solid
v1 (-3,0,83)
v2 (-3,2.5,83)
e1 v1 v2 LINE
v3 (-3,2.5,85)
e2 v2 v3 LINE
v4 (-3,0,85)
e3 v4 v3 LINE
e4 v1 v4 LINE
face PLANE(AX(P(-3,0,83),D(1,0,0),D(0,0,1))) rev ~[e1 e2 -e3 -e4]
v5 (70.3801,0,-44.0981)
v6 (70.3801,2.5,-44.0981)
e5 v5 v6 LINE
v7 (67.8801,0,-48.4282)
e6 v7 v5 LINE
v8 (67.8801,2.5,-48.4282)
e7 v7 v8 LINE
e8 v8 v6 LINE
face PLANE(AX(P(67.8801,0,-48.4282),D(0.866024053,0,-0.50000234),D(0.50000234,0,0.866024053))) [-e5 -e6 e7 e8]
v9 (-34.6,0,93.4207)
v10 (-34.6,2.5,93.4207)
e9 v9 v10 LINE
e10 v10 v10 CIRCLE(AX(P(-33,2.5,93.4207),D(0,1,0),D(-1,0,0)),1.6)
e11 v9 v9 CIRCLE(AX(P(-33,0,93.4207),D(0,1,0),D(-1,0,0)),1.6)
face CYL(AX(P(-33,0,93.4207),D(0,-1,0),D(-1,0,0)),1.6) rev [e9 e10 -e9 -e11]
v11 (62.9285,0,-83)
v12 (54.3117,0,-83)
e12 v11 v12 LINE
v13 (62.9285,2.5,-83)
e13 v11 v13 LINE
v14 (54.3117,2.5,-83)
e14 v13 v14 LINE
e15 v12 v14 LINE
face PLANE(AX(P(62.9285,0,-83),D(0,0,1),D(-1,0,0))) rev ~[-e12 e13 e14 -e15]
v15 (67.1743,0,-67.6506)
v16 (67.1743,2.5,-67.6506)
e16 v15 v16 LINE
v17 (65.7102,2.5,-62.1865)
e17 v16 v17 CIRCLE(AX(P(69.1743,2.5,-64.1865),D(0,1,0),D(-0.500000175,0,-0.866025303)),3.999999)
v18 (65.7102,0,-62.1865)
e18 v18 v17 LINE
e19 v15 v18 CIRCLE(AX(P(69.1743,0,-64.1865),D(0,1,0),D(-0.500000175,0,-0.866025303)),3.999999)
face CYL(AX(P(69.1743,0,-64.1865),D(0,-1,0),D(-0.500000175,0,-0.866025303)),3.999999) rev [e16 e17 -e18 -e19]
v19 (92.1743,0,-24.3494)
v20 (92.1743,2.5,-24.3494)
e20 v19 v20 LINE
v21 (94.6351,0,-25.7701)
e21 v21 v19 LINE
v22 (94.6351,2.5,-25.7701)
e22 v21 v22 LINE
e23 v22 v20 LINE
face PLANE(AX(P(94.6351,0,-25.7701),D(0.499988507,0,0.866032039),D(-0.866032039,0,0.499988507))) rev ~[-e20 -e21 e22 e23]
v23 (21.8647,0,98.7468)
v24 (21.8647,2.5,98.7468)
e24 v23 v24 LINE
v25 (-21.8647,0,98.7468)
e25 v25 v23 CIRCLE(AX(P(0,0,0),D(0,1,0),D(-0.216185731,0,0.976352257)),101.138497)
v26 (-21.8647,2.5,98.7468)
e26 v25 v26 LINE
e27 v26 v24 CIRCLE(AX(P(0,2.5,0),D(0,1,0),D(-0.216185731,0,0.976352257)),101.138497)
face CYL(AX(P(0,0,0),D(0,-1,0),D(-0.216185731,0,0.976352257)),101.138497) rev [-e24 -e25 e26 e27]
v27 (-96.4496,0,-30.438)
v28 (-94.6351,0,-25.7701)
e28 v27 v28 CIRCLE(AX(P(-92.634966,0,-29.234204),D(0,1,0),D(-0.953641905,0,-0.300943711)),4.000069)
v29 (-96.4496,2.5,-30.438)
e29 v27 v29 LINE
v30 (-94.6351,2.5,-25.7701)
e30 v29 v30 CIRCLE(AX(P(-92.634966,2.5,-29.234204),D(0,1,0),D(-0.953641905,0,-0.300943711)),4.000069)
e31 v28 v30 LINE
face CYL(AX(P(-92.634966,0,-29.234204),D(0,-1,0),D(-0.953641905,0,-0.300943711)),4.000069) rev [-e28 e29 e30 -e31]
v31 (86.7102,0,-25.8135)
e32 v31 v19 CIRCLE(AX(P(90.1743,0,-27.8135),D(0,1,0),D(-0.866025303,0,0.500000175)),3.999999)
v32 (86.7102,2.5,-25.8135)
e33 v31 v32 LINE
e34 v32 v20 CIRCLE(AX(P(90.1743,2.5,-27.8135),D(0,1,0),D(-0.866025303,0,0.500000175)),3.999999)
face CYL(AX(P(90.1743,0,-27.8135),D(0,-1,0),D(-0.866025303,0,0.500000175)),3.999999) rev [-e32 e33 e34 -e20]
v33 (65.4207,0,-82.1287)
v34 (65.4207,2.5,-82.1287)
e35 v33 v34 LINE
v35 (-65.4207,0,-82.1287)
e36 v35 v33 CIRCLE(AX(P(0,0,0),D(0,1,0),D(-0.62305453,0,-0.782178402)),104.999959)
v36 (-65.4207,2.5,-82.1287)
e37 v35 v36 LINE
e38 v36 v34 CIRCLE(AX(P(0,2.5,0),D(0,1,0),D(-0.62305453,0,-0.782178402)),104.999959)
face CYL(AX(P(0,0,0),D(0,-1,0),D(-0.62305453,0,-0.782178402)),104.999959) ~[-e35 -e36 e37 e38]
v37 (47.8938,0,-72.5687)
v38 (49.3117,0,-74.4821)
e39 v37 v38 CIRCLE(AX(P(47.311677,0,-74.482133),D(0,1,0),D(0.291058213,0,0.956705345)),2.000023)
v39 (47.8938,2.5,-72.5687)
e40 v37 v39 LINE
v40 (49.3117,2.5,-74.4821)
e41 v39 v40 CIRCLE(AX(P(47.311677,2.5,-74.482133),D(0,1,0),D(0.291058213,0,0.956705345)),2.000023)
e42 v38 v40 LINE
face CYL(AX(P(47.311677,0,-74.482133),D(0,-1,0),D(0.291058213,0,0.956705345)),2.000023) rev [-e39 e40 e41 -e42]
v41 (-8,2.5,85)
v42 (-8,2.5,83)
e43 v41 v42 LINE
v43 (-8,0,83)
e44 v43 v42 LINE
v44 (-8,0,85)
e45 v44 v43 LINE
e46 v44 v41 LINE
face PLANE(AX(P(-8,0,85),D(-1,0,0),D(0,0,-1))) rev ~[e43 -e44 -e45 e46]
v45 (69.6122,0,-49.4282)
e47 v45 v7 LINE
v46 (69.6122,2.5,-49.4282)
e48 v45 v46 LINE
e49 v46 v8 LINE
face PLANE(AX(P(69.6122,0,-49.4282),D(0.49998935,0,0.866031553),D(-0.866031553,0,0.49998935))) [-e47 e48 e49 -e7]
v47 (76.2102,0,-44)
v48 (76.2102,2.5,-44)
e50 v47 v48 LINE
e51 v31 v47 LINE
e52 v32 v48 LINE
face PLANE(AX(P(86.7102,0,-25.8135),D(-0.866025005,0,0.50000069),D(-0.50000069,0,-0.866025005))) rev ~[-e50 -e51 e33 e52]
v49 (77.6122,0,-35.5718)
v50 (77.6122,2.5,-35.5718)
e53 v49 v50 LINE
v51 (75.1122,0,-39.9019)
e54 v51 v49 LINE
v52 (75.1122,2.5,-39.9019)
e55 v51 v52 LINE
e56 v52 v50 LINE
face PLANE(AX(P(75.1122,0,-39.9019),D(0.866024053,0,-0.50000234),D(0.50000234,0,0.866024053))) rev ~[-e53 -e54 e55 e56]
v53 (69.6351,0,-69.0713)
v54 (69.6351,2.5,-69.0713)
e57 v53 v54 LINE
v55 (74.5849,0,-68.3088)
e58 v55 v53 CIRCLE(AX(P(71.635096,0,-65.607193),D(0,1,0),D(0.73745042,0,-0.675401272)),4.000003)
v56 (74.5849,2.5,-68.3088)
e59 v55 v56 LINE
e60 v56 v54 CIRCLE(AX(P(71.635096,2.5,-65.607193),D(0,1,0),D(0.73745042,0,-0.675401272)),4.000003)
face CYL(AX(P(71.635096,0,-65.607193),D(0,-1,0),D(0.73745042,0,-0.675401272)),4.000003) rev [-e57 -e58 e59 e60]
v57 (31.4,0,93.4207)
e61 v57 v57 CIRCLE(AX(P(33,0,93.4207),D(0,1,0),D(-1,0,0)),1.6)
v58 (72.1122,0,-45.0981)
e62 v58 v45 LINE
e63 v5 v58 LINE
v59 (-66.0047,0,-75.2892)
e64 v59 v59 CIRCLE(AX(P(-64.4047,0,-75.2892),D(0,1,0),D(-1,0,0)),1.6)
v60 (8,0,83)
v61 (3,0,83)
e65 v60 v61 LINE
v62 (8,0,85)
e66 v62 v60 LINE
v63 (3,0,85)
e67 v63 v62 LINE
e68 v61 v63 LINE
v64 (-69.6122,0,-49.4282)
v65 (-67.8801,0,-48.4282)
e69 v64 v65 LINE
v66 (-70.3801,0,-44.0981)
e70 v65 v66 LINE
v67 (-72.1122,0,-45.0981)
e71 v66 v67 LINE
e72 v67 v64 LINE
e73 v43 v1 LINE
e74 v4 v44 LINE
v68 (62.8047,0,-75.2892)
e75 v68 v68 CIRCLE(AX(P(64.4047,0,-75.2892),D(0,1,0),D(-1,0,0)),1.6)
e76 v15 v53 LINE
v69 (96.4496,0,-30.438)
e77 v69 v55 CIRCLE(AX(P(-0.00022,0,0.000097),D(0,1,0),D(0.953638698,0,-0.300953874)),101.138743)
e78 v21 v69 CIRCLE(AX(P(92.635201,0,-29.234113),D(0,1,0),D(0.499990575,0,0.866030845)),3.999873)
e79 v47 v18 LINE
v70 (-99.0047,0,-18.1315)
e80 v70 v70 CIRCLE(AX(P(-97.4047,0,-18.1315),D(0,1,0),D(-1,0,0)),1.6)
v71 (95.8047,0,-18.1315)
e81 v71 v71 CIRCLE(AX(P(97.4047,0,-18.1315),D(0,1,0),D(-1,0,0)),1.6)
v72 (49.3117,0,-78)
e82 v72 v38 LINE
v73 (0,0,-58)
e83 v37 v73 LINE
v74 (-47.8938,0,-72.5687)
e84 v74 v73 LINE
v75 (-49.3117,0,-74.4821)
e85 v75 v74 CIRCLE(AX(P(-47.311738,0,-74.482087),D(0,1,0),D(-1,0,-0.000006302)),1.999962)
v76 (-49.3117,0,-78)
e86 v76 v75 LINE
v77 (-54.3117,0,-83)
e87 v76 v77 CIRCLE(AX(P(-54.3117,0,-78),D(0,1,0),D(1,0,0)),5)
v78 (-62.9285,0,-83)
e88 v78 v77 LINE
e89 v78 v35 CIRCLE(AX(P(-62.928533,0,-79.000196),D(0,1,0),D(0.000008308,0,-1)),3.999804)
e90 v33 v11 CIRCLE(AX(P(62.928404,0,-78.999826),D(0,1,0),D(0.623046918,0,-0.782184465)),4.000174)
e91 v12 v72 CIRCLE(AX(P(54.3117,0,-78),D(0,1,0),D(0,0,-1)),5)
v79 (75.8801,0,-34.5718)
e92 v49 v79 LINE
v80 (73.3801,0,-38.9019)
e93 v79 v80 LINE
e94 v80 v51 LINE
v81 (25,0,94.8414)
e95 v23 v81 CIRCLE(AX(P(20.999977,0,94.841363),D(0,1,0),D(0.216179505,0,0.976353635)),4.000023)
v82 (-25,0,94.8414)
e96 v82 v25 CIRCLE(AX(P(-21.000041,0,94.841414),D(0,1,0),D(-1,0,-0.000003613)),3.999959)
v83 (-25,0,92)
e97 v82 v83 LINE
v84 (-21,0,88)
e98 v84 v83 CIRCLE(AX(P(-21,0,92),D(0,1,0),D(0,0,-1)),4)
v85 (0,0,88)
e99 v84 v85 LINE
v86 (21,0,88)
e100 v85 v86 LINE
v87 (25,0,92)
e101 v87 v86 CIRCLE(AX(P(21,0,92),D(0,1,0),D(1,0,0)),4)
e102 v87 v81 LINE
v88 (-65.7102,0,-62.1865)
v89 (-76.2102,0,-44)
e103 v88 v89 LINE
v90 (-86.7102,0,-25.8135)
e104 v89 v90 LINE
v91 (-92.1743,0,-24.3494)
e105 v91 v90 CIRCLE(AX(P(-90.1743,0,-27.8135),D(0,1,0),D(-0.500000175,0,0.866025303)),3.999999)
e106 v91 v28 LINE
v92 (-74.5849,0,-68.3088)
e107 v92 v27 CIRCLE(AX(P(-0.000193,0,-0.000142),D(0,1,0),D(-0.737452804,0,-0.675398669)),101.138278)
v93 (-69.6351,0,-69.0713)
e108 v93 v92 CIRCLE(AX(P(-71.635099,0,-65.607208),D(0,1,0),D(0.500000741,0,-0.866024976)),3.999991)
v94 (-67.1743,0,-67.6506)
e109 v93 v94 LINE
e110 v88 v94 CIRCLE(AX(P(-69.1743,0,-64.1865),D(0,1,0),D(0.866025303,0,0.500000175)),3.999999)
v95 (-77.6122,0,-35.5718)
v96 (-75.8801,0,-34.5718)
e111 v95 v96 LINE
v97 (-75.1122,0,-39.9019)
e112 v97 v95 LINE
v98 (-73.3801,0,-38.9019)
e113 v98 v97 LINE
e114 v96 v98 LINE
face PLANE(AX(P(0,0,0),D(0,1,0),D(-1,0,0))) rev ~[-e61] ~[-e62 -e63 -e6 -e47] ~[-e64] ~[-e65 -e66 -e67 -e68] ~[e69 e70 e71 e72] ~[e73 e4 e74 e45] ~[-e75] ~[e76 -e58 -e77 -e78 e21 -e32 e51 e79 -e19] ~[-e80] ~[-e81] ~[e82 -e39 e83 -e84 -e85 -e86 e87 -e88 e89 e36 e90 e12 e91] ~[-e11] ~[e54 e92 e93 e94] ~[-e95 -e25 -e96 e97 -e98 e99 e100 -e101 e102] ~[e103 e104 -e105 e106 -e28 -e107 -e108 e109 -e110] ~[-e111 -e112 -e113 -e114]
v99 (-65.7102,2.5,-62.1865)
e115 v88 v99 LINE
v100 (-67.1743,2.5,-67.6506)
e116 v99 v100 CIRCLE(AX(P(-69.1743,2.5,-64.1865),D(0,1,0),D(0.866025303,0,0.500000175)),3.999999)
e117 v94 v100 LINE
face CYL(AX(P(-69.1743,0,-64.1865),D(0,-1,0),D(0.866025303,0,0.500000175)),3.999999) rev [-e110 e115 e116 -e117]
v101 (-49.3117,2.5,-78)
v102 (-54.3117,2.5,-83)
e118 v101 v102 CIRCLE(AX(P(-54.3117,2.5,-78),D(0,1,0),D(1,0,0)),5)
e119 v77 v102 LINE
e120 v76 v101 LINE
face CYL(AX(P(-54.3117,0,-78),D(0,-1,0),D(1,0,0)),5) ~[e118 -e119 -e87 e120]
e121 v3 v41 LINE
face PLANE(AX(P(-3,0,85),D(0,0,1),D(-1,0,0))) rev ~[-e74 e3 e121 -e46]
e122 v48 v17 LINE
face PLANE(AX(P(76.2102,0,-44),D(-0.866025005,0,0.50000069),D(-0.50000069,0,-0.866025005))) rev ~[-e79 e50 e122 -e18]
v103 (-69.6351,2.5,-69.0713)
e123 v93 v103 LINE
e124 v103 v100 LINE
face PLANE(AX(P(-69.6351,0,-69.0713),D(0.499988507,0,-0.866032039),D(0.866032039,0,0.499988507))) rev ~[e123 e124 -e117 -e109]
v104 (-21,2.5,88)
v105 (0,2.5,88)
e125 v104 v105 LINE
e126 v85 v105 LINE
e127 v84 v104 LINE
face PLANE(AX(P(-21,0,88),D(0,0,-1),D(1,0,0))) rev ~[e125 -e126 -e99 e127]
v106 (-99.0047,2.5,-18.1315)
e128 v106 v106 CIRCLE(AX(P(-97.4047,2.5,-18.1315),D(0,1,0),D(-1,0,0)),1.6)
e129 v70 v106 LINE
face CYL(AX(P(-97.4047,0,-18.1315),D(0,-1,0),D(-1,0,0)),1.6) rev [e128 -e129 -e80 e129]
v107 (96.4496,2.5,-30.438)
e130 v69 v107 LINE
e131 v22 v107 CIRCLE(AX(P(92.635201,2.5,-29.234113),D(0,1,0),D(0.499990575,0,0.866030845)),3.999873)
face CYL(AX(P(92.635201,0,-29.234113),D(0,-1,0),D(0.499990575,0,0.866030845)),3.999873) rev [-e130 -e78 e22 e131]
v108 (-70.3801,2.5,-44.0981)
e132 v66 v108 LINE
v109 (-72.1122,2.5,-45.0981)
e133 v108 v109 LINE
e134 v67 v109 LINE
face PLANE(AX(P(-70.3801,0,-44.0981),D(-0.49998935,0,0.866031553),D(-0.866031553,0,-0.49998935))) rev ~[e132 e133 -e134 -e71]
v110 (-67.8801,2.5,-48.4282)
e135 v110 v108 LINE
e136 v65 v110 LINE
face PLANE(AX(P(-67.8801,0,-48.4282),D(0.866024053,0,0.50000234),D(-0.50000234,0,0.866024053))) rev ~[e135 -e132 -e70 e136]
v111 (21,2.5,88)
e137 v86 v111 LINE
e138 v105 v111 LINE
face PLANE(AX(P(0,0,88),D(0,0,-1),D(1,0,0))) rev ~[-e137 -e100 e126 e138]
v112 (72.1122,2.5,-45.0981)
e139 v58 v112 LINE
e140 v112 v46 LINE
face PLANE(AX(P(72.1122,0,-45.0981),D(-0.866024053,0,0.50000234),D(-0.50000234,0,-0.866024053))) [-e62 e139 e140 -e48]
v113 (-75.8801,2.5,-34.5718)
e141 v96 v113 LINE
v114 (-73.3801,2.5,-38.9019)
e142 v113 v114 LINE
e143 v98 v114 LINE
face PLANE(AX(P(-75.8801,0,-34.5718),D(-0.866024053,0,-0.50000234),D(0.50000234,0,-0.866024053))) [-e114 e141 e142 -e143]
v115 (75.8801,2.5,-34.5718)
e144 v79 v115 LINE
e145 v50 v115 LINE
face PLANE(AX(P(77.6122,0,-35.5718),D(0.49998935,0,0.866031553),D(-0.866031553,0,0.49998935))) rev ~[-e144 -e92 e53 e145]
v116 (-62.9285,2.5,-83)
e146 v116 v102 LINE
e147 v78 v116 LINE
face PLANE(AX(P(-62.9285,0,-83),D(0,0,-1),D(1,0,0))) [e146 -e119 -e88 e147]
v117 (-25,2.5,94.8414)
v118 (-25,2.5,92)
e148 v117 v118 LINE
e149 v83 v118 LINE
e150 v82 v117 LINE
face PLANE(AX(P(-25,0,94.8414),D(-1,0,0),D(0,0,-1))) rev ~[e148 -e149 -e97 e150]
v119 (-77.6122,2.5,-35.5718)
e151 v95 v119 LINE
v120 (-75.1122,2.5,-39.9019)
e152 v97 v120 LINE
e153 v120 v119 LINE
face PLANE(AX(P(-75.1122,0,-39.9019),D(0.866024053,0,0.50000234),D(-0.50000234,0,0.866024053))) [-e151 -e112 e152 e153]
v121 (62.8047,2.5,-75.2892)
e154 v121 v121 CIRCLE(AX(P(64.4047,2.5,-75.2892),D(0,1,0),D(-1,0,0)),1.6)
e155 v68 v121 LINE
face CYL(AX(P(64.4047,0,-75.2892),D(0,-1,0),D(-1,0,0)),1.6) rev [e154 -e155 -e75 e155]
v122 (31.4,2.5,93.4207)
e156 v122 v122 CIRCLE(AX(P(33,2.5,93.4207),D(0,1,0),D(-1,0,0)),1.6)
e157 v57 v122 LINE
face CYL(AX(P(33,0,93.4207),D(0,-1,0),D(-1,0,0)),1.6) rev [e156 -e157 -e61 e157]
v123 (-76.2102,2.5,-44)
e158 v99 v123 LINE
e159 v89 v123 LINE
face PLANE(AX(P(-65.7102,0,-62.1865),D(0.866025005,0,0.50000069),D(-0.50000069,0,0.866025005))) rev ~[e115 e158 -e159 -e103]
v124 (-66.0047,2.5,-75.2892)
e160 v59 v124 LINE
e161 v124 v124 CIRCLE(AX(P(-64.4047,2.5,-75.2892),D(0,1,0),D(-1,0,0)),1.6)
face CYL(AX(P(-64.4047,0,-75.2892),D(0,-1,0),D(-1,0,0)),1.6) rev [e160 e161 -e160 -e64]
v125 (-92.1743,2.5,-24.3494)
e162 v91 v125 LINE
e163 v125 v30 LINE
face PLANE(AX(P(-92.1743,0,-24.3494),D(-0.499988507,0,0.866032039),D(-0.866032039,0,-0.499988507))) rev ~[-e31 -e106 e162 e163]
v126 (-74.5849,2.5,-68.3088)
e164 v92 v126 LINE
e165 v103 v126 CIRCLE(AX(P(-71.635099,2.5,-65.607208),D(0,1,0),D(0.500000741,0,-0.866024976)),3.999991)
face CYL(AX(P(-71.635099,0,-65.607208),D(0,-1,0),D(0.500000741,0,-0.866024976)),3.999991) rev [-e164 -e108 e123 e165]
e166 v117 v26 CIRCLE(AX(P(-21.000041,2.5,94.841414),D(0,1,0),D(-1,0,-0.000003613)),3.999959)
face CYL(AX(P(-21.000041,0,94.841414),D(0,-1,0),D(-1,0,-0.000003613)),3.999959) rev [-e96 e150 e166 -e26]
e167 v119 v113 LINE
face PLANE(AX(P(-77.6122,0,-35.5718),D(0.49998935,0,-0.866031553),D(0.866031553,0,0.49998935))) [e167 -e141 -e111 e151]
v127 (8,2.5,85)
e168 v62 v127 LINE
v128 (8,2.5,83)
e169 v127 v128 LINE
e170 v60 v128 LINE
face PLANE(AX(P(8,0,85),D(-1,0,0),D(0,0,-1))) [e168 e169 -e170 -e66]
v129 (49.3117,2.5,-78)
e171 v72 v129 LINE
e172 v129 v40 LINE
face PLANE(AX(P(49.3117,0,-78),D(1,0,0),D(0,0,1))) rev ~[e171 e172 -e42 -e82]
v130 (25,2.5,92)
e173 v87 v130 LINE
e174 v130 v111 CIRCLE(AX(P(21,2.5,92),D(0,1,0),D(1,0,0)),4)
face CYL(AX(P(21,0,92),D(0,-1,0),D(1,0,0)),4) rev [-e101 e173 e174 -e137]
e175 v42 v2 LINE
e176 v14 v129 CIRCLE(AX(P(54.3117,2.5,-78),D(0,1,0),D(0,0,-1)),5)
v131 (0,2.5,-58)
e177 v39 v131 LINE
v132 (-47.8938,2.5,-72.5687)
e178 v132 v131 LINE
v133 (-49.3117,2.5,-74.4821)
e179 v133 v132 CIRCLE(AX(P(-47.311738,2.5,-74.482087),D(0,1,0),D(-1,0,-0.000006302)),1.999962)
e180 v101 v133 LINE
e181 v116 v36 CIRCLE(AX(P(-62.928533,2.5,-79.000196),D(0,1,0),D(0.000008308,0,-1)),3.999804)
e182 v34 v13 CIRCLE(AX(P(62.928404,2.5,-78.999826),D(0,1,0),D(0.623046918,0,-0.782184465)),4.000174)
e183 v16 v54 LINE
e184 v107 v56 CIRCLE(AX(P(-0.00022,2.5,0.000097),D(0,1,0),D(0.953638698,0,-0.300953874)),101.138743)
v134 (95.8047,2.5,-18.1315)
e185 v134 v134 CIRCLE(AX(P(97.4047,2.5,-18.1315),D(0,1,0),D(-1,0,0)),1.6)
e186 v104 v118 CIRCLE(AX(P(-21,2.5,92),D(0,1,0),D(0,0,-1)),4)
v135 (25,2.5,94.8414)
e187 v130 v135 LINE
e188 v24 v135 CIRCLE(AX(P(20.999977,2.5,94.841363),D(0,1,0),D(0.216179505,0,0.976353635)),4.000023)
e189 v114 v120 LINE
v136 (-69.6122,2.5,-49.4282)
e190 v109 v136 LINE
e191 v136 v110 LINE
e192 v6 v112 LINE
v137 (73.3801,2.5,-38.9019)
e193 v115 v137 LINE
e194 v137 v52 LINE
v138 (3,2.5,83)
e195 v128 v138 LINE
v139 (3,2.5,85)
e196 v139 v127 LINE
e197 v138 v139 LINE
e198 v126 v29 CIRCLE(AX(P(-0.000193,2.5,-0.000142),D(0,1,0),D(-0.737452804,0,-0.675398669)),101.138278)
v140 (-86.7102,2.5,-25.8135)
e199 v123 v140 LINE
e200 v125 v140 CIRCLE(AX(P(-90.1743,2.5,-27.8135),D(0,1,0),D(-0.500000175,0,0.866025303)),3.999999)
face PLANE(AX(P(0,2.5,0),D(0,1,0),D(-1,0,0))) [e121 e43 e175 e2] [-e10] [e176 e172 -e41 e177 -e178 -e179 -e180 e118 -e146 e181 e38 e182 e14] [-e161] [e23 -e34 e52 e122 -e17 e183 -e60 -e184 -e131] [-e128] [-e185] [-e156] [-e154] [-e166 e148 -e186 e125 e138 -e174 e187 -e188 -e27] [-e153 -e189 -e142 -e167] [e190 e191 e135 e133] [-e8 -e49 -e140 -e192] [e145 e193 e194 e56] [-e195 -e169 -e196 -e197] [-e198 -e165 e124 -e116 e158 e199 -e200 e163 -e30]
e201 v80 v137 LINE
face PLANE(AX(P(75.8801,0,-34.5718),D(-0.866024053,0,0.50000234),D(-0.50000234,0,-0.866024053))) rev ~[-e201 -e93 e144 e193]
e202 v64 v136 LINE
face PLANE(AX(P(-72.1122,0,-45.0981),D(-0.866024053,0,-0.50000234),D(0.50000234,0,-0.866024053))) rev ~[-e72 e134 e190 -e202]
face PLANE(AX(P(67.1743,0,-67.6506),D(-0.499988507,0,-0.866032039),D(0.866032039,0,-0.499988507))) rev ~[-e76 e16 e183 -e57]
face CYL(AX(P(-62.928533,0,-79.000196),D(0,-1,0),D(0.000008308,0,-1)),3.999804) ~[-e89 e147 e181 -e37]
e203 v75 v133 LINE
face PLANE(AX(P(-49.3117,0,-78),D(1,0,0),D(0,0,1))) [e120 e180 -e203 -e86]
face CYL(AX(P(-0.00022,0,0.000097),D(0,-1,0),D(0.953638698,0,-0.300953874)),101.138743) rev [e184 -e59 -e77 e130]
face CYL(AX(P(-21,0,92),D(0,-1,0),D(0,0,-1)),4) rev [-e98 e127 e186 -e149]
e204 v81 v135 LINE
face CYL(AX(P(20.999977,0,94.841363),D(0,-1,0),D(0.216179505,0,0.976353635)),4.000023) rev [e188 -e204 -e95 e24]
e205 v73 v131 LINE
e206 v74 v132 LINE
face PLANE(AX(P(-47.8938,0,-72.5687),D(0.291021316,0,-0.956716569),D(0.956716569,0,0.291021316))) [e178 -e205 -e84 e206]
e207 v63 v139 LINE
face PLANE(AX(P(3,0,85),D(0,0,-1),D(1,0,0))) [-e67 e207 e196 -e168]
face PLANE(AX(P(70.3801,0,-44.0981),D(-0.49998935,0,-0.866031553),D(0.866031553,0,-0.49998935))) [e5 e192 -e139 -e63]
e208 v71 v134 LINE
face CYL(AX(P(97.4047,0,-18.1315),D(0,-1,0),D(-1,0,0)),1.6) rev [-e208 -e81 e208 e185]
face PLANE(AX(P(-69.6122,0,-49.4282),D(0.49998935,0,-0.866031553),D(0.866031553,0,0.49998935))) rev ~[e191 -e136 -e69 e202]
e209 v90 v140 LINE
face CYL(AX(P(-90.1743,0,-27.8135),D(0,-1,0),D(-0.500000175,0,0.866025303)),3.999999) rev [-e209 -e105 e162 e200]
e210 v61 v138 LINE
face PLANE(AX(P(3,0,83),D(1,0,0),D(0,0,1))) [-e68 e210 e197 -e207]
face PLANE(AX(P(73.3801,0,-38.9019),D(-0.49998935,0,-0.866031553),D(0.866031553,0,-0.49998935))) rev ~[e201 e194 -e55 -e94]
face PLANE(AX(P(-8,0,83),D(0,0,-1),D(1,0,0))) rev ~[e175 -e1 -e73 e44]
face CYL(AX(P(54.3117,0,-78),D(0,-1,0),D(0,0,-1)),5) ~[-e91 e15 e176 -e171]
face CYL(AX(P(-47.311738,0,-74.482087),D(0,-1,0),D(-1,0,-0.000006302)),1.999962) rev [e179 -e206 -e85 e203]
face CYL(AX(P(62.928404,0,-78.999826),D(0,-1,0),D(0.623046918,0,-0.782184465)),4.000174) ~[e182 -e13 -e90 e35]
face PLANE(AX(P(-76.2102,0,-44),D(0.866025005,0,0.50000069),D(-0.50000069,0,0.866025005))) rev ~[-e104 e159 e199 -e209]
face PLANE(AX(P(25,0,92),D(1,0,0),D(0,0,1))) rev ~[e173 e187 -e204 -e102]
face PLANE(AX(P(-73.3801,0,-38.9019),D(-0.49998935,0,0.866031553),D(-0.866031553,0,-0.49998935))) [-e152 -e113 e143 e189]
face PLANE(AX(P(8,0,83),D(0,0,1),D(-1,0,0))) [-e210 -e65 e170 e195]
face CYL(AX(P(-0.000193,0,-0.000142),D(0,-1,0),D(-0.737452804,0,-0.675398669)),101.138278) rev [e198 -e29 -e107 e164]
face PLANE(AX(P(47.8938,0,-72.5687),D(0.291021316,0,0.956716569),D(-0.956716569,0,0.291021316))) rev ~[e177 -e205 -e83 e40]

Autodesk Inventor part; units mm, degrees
ref_plane "YZ Plane" through (0, 0, 0) normal (1, 0, 0) x (0, 1, 0)
ref_plane "XZ Plane" through (0, 0, 0) normal (0, 1, 0) x (-1, 0, 0)
ref_plane "XY Plane" through (0, 0, 0) normal (0, 0, 1) x (1, 0, 0)
sketch "Sketch1" plane through (0, 0, 0) normal (0, 1, 0) x (-1, 0, 0)
  line L0 (-62.9285, -83) -> (-54.3117, -83)
  line L1 (62.9285, -83) -> (54.3117, -83)
  arc A0 (65.4207, -82.1287) -> (-65.4207, -82.1287) centre (0, 0) ccw
  line L2 (-49.3117, -78) -> (-49.3117, -74.4821)
  line L3 (-47.8938, -72.5687) -> (0, -58)
  line L4 (49.3117, -78) -> (49.3117, -74.4821)
  line L5 (47.8938, -72.5687) -> (0, -58)
  arc A1 (49.3117, -78) -> (54.3117, -83) centre (54.3117, -78) ccw
  arc A2 (-54.3117, -83) -> (-49.3117, -78) centre (-54.3117, -78) ccw
  arc A3 (49.3117, -74.4821) -> (47.8938, -72.5687) centre (47.3117, -74.4821) ccw
  arc A4 (-47.8938, -72.5687) -> (-49.3117, -74.4821) centre (-47.3117, -74.4821) ccw
  arc A5 (62.9285, -83) -> (65.4207, -82.1287) centre (62.9285, -79) ccw
  arc A6 (-65.4207, -82.1287) -> (-62.9285, -83) centre (-62.9285, -79) ccw
  line L6 (-76.2102, -44) -> (-65.7102, -62.1865)
  line L7 (-67.1743, -67.6506) -> (-69.6351, -69.0713)
  line L8 (-94.6351, -25.7701) -> (-92.1743, -24.3494)
  line L9 (-86.7102, -25.8135) -> (-76.2102, -44)
  arc A7 (-96.4496, -30.438) -> (-74.5849, -68.3088) centre (0, 0) ccw
  arc A8 (-94.6351, -25.7701) -> (-96.4496, -30.438) centre (-92.6351, -29.2342) ccw
  arc A9 (-86.7102, -25.8135) -> (-92.1743, -24.3494) centre (-90.1743, -27.8135) ccw
  arc A10 (-67.1743, -67.6506) -> (-65.7102, -62.1865) centre (-69.1743, -64.1865) ccw
  arc A11 (-74.5849, -68.3088) -> (-69.6351, -69.0713) centre (-71.6351, -65.6072) ccw
  line L10 (76.2102, -44) -> (86.7102, -25.8135)
  line L11 (92.1743, -24.3494) -> (94.6351, -25.7701)
  line L12 (69.6351, -69.0713) -> (67.1743, -67.6506)
  line L13 (65.7102, -62.1865) -> (76.2102, -44)
  arc A12 (74.5849, -68.3088) -> (96.4496, -30.438) centre (0, 0) ccw
  arc A13 (69.6351, -69.0713) -> (74.5849, -68.3088) centre (71.6351, -65.6072) ccw
  arc A14 (65.7102, -62.1865) -> (67.1743, -67.6506) centre (69.1743, -64.1865) ccw
  arc A15 (92.1743, -24.3494) -> (86.7102, -25.8135) centre (90.1743, -27.8135) ccw
  arc A16 (96.4496, -30.438) -> (94.6351, -25.7701) centre (92.6351, -29.2342) ccw
  line L14 (0, 88) -> (-21, 88)
  line L15 (-25, 92) -> (-25, 94.8414)
  line L16 (25, 94.8414) -> (25, 92)
  line L17 (21, 88) -> (0, 88)
  arc A17 (21.8647, 98.7468) -> (-21.8647, 98.7468) centre (0, 0) ccw
  arc A18 (25, 94.8414) -> (21.8647, 98.7468) centre (21, 94.8414) ccw
  arc A19 (21, 88) -> (25, 92) centre (21, 92) ccw
  arc A20 (-25, 92) -> (-21, 88) centre (-21, 92) ccw
  arc A21 (-21.8647, 98.7468) -> (-25, 94.8414) centre (-21, 94.8414) ccw
  circle A22 centre (-33, 93.4207) radius 1.6
  circle A23 centre (33, 93.4207) radius 1.6
  line L18 (-75.1122, -39.9019) -> (-77.6122, -35.5718)
  line L19 (-77.6122, -35.5718) -> (-75.8801, -34.5718)
  line L20 (-75.8801, -34.5718) -> (-73.3801, -38.9019)
  line L21 (-73.3801, -38.9019) -> (-75.1122, -39.9019)
  line L22 (-72.1122, -45.0981) -> (-69.6122, -49.4282)
  line L23 (-69.6122, -49.4282) -> (-67.8801, -48.4282)
  line L24 (-67.8801, -48.4282) -> (-70.3801, -44.0981)
  line L25 (-70.3801, -44.0981) -> (-72.1122, -45.0981)
  line L26 (72.1122, -45.0981) -> (69.6122, -49.4282)
  line L27 (69.6122, -49.4282) -> (67.8801, -48.4282)
  line L28 (67.8801, -48.4282) -> (70.3801, -44.0981)
  line L29 (70.3801, -44.0981) -> (72.1122, -45.0981)
  line L30 (73.3801, -38.9019) -> (75.1122, -39.9019)
  line L31 (75.8801, -34.5718) -> (73.3801, -38.9019)
  line L32 (77.6122, -35.5718) -> (75.8801, -34.5718)
  line L33 (75.1122, -39.9019) -> (77.6122, -35.5718)
  line L34 (3, 85) -> (8, 85)
  line L35 (8, 85) -> (8, 83)
  line L36 (8, 83) -> (3, 83)
  line L37 (3, 83) -> (3, 85)
  line L38 (-3, 83) -> (-3, 85)
  line L39 (-8, 83) -> (-3, 83)
  line L40 (-8, 85) -> (-8, 83)
  line L41 (-3, 85) -> (-8, 85)
  circle A24 centre (-64.4047, -75.2892) radius 1.6
  circle A25 centre (-97.4047, -18.1315) radius 1.6
  circle A26 centre (97.4047, -18.1315) radius 1.6
  circle A27 centre (64.4047, -75.2892) radius 1.6
  point P0 (64.3117, -83)
  point P1 (-64.3117, -83)
  point P2 (-49.3117, -83)
  point P3 (49.3117, -83)
  point P4 (-49.3117, -73)
  point P5 (49.3117, -73)
  point P6 (-63.7102, -65.6506)
  point P7 (-72.3705, -70.6506)
  point P8 (-97.3705, -27.3494)
  point P9 (88.7102, -22.3494)
  point P10 (97.3705, -27.3494)
  point P11 (-25, 88)
  point P12 (-25, 98)
  dimension "d65" = 360
  dimension "d68" = 3.2
  dimension "d70" = 3.2
  dimension "d79" = 360
  dimension "d83" = 360
extrude "Extrusion1" add sketch "Sketch1" along normal blind 2.5
properties part number "Bottom Plate"
